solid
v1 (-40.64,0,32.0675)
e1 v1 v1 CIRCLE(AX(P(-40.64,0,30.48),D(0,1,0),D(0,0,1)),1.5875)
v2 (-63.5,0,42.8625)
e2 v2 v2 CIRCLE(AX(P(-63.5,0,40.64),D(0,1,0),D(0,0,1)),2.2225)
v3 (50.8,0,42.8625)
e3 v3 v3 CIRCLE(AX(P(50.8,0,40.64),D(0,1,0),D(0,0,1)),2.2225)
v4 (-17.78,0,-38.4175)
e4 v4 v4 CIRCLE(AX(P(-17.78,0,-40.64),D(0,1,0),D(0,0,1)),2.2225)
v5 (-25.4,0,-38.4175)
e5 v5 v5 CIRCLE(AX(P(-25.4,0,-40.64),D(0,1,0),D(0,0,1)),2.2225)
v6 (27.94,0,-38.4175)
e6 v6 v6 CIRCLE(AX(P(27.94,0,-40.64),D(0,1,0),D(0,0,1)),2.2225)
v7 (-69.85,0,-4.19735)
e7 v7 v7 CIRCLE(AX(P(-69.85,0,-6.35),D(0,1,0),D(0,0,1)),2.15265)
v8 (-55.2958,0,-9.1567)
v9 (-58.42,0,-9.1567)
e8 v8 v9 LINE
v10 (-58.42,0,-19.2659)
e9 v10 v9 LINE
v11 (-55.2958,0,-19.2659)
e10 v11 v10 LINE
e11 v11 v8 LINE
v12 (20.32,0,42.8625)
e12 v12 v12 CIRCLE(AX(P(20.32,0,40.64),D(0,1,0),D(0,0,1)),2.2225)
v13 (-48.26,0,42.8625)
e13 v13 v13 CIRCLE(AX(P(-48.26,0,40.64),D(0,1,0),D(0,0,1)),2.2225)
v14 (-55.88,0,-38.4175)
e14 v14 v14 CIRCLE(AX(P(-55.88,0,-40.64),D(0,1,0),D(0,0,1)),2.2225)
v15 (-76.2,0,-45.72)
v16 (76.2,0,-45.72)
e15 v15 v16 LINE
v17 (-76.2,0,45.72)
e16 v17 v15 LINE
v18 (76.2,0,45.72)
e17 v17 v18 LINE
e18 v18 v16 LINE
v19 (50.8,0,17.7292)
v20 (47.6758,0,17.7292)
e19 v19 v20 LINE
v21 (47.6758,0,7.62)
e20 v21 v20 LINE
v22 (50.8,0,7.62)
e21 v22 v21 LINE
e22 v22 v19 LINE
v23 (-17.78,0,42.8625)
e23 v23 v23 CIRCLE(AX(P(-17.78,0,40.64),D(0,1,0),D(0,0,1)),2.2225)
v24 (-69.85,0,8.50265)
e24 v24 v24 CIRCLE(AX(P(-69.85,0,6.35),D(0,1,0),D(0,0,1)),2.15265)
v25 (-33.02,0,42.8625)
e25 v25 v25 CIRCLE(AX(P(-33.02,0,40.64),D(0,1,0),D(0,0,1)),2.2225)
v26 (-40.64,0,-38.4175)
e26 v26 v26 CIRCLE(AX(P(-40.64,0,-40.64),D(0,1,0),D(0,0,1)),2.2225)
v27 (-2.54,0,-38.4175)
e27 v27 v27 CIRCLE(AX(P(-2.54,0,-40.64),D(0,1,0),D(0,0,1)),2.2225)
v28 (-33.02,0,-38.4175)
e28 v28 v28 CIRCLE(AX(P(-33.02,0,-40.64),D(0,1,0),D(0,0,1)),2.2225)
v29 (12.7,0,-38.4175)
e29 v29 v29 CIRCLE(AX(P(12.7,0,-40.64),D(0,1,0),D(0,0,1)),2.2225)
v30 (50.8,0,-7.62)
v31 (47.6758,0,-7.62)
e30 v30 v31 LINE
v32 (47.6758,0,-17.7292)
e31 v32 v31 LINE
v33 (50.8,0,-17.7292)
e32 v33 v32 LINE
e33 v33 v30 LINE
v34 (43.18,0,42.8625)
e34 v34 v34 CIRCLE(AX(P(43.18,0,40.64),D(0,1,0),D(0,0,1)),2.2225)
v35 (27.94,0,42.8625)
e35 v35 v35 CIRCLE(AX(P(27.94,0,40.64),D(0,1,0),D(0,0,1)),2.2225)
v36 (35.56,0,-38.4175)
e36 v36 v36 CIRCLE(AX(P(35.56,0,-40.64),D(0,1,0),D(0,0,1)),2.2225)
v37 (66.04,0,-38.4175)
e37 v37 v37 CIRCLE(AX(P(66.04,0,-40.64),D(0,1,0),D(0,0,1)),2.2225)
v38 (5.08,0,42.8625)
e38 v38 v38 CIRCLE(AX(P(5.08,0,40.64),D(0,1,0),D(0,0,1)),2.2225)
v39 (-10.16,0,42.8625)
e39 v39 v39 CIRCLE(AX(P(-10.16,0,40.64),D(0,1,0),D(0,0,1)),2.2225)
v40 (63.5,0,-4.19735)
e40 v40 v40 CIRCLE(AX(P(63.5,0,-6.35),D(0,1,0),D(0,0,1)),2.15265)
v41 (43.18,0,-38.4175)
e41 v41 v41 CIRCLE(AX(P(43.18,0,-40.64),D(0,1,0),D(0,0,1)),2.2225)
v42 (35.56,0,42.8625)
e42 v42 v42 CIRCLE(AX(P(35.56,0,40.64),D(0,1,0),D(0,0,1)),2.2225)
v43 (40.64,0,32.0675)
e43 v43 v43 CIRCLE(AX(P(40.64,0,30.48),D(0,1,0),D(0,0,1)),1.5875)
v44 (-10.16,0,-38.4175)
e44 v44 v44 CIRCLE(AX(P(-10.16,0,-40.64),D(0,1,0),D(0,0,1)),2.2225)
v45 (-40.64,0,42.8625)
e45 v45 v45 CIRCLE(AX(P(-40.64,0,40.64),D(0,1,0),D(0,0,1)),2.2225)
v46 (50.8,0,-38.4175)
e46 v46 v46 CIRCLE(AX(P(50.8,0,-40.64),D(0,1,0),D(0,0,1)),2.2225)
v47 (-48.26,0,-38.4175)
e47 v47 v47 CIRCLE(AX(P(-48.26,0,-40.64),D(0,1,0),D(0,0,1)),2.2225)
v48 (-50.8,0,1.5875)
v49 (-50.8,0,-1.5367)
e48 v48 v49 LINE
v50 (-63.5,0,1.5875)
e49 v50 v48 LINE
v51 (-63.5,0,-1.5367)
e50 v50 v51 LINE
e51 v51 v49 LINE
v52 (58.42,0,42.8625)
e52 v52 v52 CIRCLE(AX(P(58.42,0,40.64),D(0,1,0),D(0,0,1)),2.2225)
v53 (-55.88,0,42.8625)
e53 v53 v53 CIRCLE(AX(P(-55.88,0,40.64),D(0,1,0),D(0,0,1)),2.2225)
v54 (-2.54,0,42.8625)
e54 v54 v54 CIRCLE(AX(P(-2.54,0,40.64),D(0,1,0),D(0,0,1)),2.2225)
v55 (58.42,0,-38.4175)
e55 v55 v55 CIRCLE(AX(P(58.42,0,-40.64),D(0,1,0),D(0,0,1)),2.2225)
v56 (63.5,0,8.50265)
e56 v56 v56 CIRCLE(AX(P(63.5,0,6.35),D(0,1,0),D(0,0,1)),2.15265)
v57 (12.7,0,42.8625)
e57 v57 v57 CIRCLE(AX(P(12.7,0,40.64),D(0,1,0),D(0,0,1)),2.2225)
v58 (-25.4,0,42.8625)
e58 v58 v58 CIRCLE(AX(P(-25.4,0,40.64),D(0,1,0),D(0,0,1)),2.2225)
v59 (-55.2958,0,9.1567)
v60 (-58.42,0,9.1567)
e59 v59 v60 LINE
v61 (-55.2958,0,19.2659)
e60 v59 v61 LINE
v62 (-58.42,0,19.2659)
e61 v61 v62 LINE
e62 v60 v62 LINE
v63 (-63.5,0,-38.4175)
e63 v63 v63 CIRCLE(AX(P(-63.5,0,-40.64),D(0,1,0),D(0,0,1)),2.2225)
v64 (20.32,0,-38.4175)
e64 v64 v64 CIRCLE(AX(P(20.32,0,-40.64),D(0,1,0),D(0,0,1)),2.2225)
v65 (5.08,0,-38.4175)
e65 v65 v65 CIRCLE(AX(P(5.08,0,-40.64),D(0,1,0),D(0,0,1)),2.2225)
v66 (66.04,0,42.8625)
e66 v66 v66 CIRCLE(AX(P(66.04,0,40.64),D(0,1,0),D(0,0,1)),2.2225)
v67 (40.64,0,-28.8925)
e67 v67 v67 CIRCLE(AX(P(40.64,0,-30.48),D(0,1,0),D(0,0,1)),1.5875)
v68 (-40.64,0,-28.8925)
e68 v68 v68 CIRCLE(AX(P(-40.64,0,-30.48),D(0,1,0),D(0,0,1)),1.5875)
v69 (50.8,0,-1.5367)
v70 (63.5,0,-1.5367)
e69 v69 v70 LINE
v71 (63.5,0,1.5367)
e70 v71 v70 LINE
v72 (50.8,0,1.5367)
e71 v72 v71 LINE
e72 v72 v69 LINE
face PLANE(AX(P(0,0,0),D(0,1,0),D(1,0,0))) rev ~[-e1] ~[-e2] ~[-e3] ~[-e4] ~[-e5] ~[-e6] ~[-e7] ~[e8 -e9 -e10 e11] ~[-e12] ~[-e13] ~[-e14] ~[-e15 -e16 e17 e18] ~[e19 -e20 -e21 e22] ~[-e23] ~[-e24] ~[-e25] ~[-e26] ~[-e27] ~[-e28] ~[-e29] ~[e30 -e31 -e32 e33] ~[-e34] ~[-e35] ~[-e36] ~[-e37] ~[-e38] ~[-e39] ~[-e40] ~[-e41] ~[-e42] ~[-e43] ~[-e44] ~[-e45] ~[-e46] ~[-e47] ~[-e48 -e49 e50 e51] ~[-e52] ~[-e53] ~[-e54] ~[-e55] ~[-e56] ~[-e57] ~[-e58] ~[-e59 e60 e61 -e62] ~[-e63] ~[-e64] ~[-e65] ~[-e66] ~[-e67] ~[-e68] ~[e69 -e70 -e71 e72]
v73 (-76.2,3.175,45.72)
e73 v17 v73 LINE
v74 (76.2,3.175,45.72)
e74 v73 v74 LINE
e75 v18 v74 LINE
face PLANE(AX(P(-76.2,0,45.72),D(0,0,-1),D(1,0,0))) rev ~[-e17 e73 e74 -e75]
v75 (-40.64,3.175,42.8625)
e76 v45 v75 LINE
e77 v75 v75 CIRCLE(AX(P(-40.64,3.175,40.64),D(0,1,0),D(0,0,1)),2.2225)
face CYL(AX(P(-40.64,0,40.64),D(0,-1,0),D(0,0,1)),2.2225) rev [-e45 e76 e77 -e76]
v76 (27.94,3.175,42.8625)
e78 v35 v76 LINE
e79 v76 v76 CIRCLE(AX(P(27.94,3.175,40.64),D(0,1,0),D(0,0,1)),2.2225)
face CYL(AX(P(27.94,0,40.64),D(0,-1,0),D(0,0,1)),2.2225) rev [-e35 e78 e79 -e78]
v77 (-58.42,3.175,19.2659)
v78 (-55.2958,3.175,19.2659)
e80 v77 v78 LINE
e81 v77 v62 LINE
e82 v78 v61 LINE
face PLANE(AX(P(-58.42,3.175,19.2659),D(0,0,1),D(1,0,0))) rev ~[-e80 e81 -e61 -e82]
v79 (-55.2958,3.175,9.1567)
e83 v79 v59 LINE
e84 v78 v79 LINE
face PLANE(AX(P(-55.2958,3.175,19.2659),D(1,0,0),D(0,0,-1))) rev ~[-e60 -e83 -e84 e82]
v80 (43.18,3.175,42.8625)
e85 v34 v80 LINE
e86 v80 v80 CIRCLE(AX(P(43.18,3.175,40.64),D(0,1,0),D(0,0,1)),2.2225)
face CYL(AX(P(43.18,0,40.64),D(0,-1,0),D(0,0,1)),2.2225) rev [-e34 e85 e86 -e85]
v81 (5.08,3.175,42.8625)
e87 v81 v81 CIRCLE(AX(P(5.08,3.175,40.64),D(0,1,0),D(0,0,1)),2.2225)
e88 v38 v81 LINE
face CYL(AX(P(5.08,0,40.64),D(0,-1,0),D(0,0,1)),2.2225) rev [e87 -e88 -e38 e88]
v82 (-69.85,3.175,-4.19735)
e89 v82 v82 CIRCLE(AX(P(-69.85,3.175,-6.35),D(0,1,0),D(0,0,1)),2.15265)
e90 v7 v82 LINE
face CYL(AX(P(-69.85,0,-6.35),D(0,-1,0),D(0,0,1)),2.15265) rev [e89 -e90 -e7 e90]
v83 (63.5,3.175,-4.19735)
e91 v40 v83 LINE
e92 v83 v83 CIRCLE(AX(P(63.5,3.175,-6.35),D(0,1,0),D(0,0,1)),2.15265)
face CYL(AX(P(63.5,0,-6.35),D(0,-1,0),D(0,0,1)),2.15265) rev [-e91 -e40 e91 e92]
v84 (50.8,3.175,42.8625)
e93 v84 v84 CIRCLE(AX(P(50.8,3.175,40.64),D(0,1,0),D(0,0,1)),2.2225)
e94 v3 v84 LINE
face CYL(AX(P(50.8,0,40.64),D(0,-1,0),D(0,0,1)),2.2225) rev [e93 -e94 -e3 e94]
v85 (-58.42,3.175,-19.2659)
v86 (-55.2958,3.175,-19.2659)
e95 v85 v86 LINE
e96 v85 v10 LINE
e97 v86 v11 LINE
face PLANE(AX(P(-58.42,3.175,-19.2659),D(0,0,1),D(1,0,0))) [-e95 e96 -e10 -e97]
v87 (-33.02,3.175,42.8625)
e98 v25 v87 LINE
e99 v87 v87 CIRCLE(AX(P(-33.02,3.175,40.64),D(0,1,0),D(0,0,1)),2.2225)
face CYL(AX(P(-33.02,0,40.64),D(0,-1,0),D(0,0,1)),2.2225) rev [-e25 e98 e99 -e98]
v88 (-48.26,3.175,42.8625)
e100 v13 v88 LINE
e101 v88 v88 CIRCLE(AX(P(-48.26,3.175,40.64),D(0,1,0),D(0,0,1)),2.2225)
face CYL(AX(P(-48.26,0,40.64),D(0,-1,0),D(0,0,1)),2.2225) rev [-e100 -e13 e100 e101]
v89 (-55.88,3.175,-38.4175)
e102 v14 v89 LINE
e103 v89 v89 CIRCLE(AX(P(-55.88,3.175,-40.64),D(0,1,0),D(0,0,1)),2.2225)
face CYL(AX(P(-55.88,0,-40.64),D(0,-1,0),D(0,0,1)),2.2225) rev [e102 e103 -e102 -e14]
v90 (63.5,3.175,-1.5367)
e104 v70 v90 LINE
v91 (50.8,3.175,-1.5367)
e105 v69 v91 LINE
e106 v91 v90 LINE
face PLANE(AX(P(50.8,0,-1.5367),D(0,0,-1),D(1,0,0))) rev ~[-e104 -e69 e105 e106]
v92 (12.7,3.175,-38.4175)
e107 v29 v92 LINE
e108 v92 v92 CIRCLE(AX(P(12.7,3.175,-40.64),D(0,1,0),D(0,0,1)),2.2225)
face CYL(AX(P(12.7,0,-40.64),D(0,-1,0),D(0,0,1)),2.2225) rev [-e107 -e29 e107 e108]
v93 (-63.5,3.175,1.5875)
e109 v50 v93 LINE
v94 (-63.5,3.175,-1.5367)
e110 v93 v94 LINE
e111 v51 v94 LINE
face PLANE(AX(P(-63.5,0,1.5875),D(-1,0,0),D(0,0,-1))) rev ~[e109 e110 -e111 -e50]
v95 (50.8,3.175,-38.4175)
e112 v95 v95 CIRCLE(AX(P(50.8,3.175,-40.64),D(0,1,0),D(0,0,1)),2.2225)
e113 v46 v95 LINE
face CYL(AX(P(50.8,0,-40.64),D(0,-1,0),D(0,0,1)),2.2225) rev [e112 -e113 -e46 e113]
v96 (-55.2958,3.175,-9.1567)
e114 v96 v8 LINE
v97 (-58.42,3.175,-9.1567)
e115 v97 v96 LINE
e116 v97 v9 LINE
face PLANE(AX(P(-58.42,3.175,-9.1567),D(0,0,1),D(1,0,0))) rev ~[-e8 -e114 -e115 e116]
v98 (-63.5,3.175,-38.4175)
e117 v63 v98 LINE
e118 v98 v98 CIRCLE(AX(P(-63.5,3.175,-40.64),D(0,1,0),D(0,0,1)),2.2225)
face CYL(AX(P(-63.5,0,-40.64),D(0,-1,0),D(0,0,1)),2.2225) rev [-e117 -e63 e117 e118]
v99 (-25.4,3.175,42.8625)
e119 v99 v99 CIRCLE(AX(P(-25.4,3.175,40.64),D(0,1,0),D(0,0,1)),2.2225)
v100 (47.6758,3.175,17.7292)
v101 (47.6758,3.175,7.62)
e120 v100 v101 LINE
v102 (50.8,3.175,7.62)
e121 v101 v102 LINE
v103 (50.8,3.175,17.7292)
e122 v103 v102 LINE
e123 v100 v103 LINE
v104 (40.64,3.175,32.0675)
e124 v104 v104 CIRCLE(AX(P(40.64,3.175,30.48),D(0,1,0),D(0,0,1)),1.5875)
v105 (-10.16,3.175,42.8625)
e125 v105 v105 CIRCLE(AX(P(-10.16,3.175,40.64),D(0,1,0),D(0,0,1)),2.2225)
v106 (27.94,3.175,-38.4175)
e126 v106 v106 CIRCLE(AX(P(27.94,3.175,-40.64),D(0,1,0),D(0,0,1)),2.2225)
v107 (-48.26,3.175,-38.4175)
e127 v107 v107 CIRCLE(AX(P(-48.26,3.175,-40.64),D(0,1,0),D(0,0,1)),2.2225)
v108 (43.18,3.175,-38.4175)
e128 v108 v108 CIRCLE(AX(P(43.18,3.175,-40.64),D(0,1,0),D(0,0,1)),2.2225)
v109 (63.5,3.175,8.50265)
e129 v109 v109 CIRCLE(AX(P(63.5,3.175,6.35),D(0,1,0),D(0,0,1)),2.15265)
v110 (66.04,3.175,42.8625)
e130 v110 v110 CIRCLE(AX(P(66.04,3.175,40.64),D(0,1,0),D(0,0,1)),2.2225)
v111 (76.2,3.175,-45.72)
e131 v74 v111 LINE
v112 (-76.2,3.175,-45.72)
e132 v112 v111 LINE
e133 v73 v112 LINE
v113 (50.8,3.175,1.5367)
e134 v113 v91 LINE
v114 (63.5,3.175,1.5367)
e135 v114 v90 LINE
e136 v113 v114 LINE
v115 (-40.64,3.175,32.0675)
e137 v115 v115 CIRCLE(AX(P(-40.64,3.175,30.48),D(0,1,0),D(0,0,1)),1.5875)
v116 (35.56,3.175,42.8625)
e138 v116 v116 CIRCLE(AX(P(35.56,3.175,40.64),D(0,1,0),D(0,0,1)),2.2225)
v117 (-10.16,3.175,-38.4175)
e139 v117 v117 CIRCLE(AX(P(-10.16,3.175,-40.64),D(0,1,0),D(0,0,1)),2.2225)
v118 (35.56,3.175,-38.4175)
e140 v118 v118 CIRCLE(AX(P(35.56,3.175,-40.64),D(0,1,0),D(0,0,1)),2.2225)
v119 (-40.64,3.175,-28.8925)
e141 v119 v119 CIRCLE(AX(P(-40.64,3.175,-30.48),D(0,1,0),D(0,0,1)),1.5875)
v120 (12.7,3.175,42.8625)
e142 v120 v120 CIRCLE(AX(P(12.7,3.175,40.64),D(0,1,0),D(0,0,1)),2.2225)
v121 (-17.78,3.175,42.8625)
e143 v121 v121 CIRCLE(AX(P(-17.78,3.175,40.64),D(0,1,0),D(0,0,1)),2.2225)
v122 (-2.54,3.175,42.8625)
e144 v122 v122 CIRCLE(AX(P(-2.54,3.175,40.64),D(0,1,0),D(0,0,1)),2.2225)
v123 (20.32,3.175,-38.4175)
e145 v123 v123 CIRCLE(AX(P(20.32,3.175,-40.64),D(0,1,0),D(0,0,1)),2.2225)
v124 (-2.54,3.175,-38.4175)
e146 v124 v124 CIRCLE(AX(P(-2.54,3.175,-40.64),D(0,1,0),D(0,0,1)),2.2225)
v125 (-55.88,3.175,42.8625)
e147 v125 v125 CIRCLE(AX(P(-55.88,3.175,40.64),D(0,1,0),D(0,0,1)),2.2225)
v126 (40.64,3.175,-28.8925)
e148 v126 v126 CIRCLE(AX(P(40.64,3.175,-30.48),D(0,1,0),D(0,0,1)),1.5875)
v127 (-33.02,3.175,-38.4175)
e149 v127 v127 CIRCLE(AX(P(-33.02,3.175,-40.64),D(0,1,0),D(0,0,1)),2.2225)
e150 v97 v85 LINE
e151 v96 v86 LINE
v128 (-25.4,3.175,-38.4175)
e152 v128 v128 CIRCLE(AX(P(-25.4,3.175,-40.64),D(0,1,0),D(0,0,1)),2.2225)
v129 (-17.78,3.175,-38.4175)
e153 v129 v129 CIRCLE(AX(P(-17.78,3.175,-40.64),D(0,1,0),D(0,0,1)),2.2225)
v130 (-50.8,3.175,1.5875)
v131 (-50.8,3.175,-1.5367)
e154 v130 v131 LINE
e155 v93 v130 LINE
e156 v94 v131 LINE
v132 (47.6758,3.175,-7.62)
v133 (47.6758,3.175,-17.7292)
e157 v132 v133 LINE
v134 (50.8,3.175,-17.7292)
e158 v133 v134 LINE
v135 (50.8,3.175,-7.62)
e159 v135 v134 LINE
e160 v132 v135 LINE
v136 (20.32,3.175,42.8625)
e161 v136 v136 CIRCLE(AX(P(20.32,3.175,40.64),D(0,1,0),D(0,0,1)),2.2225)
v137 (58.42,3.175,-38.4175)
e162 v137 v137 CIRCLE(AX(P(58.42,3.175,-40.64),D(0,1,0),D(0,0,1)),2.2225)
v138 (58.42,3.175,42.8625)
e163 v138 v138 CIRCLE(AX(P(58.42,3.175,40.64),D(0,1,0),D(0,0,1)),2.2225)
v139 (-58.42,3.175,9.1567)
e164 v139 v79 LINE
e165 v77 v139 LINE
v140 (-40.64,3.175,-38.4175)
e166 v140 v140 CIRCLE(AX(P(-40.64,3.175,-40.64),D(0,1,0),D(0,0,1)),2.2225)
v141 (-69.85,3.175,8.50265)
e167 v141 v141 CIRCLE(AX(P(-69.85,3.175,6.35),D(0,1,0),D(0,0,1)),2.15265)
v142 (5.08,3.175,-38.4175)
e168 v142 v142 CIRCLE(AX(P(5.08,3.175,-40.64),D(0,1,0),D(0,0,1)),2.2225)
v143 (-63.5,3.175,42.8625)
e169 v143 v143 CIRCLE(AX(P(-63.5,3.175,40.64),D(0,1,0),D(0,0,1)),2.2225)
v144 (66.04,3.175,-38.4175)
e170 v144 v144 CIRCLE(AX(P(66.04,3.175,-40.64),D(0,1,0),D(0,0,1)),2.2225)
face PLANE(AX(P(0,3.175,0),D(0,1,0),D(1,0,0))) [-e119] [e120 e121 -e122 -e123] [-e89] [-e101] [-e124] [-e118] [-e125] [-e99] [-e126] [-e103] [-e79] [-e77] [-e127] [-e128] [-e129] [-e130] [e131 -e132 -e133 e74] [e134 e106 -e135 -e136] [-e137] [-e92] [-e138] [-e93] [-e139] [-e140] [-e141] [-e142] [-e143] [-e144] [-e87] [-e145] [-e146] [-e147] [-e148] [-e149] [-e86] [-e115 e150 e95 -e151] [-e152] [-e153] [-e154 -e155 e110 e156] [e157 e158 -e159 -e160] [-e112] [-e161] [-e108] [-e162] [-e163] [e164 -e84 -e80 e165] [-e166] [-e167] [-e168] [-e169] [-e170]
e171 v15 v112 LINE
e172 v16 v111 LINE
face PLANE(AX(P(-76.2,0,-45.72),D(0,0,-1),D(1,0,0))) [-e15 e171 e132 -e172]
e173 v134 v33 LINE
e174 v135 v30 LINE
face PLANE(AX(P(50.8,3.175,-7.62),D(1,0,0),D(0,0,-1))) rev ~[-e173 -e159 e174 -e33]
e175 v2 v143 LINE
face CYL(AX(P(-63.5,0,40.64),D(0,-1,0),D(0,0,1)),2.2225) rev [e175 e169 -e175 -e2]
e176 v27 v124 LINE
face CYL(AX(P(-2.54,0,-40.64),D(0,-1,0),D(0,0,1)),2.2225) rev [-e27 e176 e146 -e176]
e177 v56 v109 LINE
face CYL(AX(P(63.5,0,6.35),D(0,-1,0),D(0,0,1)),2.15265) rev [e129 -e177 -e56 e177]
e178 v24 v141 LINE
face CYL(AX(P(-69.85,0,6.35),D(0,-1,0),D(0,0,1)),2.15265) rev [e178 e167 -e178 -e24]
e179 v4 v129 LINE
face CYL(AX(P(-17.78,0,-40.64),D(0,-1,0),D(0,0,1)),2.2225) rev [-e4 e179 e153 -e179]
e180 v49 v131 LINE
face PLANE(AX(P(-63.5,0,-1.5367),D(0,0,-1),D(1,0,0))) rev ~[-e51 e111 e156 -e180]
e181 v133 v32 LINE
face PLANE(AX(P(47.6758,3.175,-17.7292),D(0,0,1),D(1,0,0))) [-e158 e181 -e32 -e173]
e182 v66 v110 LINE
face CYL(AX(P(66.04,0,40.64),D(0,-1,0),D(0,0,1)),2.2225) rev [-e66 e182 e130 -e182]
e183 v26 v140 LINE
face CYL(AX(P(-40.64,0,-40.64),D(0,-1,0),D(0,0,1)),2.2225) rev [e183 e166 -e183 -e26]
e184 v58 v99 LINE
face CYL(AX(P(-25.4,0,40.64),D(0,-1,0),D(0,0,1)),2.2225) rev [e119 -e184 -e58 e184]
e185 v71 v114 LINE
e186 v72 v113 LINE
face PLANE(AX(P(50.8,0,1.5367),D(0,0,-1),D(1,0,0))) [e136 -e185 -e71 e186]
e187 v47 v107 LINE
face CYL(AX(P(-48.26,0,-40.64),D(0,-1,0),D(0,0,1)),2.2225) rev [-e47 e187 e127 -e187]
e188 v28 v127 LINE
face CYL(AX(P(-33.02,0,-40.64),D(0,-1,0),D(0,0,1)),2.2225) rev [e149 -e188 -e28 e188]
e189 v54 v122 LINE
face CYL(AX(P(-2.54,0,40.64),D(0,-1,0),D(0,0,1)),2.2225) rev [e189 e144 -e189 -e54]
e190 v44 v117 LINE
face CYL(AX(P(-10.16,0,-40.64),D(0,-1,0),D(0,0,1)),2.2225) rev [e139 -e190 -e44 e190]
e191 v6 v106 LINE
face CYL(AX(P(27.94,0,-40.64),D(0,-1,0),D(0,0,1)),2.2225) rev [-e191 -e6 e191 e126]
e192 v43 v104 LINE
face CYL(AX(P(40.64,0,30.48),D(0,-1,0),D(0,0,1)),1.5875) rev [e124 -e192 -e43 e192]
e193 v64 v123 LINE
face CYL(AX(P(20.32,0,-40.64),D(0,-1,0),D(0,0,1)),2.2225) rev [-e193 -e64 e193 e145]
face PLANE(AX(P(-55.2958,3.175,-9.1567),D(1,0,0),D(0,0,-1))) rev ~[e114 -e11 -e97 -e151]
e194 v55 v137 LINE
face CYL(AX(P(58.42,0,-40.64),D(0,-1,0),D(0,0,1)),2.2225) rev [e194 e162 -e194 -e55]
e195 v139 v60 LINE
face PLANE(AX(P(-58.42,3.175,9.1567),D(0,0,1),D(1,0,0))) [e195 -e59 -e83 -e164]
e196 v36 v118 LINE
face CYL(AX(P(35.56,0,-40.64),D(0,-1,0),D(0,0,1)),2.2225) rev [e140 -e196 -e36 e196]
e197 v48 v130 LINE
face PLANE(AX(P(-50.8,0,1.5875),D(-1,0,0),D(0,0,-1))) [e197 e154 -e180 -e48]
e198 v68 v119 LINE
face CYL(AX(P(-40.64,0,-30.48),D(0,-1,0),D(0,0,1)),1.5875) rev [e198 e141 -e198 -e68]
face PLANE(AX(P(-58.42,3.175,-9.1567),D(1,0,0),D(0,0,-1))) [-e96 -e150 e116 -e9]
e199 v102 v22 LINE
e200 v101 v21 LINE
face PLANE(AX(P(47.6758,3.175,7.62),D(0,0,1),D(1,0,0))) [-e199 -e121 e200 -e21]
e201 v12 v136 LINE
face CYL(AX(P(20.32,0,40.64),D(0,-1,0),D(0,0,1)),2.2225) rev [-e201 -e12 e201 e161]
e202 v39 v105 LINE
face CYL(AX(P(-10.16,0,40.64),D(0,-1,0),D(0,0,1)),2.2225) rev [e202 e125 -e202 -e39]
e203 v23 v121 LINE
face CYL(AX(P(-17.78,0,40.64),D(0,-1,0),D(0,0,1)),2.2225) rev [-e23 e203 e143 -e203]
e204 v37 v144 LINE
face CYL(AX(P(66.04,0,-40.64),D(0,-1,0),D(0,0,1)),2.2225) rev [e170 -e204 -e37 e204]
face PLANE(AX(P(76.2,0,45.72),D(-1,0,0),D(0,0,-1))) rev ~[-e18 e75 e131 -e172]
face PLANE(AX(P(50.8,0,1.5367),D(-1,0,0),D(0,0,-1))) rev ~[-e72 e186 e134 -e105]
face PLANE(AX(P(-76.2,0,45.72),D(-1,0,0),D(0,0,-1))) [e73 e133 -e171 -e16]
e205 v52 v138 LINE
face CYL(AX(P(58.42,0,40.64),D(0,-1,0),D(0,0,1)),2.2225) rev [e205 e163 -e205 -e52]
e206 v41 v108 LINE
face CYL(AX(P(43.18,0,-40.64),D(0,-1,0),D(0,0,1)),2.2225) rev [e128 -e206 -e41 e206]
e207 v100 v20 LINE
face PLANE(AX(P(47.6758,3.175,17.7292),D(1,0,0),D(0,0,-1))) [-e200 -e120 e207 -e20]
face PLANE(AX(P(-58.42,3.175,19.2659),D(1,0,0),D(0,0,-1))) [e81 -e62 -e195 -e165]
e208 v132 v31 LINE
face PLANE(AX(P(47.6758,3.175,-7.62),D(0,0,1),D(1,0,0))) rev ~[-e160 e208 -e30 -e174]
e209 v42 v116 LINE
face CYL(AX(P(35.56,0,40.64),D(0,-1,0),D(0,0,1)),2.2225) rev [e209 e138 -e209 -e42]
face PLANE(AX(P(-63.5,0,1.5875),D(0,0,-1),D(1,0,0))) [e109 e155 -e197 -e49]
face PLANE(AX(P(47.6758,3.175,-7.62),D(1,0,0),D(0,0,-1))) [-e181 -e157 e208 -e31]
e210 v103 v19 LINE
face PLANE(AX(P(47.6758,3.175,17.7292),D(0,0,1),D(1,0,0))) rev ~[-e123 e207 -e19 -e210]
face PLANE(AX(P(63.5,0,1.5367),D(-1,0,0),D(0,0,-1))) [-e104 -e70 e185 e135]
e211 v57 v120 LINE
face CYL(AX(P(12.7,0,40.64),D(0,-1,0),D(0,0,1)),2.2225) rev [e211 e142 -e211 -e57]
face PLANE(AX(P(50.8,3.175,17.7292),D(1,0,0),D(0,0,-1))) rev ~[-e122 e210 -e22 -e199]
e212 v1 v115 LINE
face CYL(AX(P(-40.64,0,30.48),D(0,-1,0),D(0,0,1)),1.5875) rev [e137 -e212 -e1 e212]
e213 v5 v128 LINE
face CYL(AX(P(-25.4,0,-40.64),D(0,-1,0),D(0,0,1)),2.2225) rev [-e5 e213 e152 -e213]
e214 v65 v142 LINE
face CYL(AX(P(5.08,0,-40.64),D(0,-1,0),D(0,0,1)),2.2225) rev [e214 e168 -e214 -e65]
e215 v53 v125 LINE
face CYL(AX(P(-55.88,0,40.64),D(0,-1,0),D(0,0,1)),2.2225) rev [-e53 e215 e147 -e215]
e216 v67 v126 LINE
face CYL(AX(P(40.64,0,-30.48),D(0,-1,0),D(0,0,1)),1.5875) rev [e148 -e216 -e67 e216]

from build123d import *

# Parameters (mm, degrees)
SKETCH1_W           = 152.4
SKETCH1_H           = 91.44
SKETCH1_W_2         = 12.7
SKETCH1_H_2         = 3.1242
SKETCH1_H_3         = 3.0734
SKETCH1_R           = 2.2225
SKETCH1_R_2         = 1.5875
SKETCH1_R_3         = 2.15265
BOSS_EXTRUDE1_DEPTH = 3.175
CUT_EXTRUDE2_REACH  = 90.92
SKETCH2_W           = 3.1242
SKETCH2_H           = 10.1092


with BuildPart() as part:
    # Sketch1 → Boss-Extrude1 (new body)
    with BuildSketch(Plane(origin=(0, 0, 0), x_dir=(1, 0, 0), z_dir=(0, 1, 0))):
        Rectangle(SKETCH1_W, SKETCH1_H)
        with Locations((-57.15, -0.0254)):
            Rectangle(SKETCH1_W_2, SKETCH1_H_2, mode=Mode.SUBTRACT)
        with Locations((57.15, 0)):
            Rectangle(SKETCH1_W_2, SKETCH1_H_3, mode=Mode.SUBTRACT)
        with Locations((-63.5, -40.64)):
            Circle(SKETCH1_R, mode=Mode.SUBTRACT)
        with Locations((-55.88, -40.64)):
            Circle(SKETCH1_R, mode=Mode.SUBTRACT)
        with Locations((-48.26, -40.64)):
            Circle(SKETCH1_R, mode=Mode.SUBTRACT)
        with Locations((-40.64, -40.64)):
            Circle(SKETCH1_R, mode=Mode.SUBTRACT)
        with Locations((-40.64, -30.48)):
            Circle(SKETCH1_R_2, mode=Mode.SUBTRACT)
        with Locations((-33.02, -40.64)):
            Circle(SKETCH1_R, mode=Mode.SUBTRACT)
        with Locations((-25.4, -40.64)):
            Circle(SKETCH1_R, mode=Mode.SUBTRACT)
        with Locations((-17.78, -40.64)):
            Circle(SKETCH1_R, mode=Mode.SUBTRACT)
        with Locations((-10.16, -40.64)):
            Circle(SKETCH1_R, mode=Mode.SUBTRACT)
        with Locations((-2.54, -40.64)):
            Circle(SKETCH1_R, mode=Mode.SUBTRACT)
        with Locations((-69.85, -6.35)):
            Circle(SKETCH1_R_3, mode=Mode.SUBTRACT)
        with Locations((5.08, -40.64)):
            Circle(SKETCH1_R, mode=Mode.SUBTRACT)
        with Locations((12.7, -40.64)):
            Circle(SKETCH1_R, mode=Mode.SUBTRACT)
        with Locations((20.32, -40.64)):
            Circle(SKETCH1_R, mode=Mode.SUBTRACT)
        with Locations((27.94, -40.64)):
            Circle(SKETCH1_R, mode=Mode.SUBTRACT)
        with Locations((35.56, -40.64)):
            Circle(SKETCH1_R, mode=Mode.SUBTRACT)
        with Locations((43.18, -40.64)):
            Circle(SKETCH1_R, mode=Mode.SUBTRACT)
        with Locations((50.8, -40.64)):
            Circle(SKETCH1_R, mode=Mode.SUBTRACT)
        with Locations((58.42, -40.64)):
            Circle(SKETCH1_R, mode=Mode.SUBTRACT)
        with Locations((66.04, -40.64)):
            Circle(SKETCH1_R, mode=Mode.SUBTRACT)
        with Locations((40.64, -30.48)):
            Circle(SKETCH1_R_2, mode=Mode.SUBTRACT)
        with Locations((63.5, -6.35)):
            Circle(SKETCH1_R_3, mode=Mode.SUBTRACT)
        with Locations((66.04, 40.64)):
            Circle(SKETCH1_R, mode=Mode.SUBTRACT)
        with Locations((-69.85, 6.35)):
            Circle(SKETCH1_R_3, mode=Mode.SUBTRACT)
        with Locations((-40.64, 30.48)):
            Circle(SKETCH1_R_2, mode=Mode.SUBTRACT)
        with Locations((-63.5, 40.64)):
            Circle(SKETCH1_R, mode=Mode.SUBTRACT)
        with Locations((-55.88, 40.64)):
            Circle(SKETCH1_R, mode=Mode.SUBTRACT)
        with Locations((-48.26, 40.64)):
            Circle(SKETCH1_R, mode=Mode.SUBTRACT)
        with Locations((-40.64, 40.64)):
            Circle(SKETCH1_R, mode=Mode.SUBTRACT)
        with Locations((-33.02, 40.64)):
            Circle(SKETCH1_R, mode=Mode.SUBTRACT)
        with Locations((-25.4, 40.64)):
            Circle(SKETCH1_R, mode=Mode.SUBTRACT)
        with Locations((-17.78, 40.64)):
            Circle(SKETCH1_R, mode=Mode.SUBTRACT)
        with Locations((-10.16, 40.64)):
            Circle(SKETCH1_R, mode=Mode.SUBTRACT)
        with Locations((-2.54, 40.64)):
            Circle(SKETCH1_R, mode=Mode.SUBTRACT)
        with Locations((63.5, 6.35)):
            Circle(SKETCH1_R_3, mode=Mode.SUBTRACT)
        with Locations((5.08, 40.64)):
            Circle(SKETCH1_R, mode=Mode.SUBTRACT)
        with Locations((12.7, 40.64)):
            Circle(SKETCH1_R, mode=Mode.SUBTRACT)
        with Locations((20.32, 40.64)):
            Circle(SKETCH1_R, mode=Mode.SUBTRACT)
        with Locations((27.94, 40.64)):
            Circle(SKETCH1_R, mode=Mode.SUBTRACT)
        with Locations((35.56, 40.64)):
            Circle(SKETCH1_R, mode=Mode.SUBTRACT)
        with Locations((40.64, 30.48)):
            Circle(SKETCH1_R_2, mode=Mode.SUBTRACT)
        with Locations((43.18, 40.64)):
            Circle(SKETCH1_R, mode=Mode.SUBTRACT)
        with Locations((50.8, 40.64)):
            Circle(SKETCH1_R, mode=Mode.SUBTRACT)
        with Locations((58.42, 40.64)):
            Circle(SKETCH1_R, mode=Mode.SUBTRACT)
    extrude(amount=BOSS_EXTRUDE1_DEPTH)

    # Sketch2 → Cut-Extrude2 (cut, up to next)
    with BuildSketch(Plane(origin=(0, 3.175, 0), x_dir=(1, 0, 0), z_dir=(0, 1, 0)), mode=Mode.PRIVATE) as cut_extrude2_sk1:
        with Locations((-56.8579, 14.2113)):
            Rectangle(SKETCH2_W, SKETCH2_H)
    cut_extrude2_tool1 = extrude(cut_extrude2_sk1.sketch, amount=-CUT_EXTRUDE2_REACH, mode=Mode.PRIVATE) & part.part
    # Sketch2 → Cut-Extrude2 (cut, up to next)
    with BuildSketch(Plane(origin=(0, 3.175, 0), x_dir=(1, 0, 0), z_dir=(0, 1, 0)), mode=Mode.PRIVATE) as cut_extrude2_sk2:
        with Locations((-56.8579, -14.2113)):
            Rectangle(SKETCH2_W, SKETCH2_H)
    cut_extrude2_tool2 = extrude(cut_extrude2_sk2.sketch, amount=-CUT_EXTRUDE2_REACH, mode=Mode.PRIVATE) & part.part
    # Sketch2 → Cut-Extrude2 (cut, up to next)
    with BuildSketch(Plane(origin=(0, 3.175, 0), x_dir=(1, 0, 0), z_dir=(0, 1, 0)), mode=Mode.PRIVATE) as cut_extrude2_sk3:
        with Locations((49.2379, 12.6746)):
            Rectangle(SKETCH2_W, SKETCH2_H)
    cut_extrude2_tool3 = extrude(cut_extrude2_sk3.sketch, amount=-CUT_EXTRUDE2_REACH, mode=Mode.PRIVATE) & part.part
    # Sketch2 → Cut-Extrude2 (cut, up to next)
    with BuildSketch(Plane(origin=(0, 3.175, 0), x_dir=(1, 0, 0), z_dir=(0, 1, 0)), mode=Mode.PRIVATE) as cut_extrude2_sk4:
        with Locations((49.2379, -12.6746)):
            Rectangle(SKETCH2_W, SKETCH2_H)
    cut_extrude2_tool4 = extrude(cut_extrude2_sk4.sketch, amount=-CUT_EXTRUDE2_REACH, mode=Mode.PRIVATE) & part.part
    add(cut_extrude2_tool1.solids().sort_by_distance((-56.8579, 3.175, -14.2113))[0], mode=Mode.SUBTRACT)
    add(cut_extrude2_tool2.solids().sort_by_distance((-56.8579, 3.175, 14.2113))[0], mode=Mode.SUBTRACT)
    add(cut_extrude2_tool3.solids().sort_by_distance((49.2379, 3.175, -12.6746))[0], mode=Mode.SUBTRACT)
    add(cut_extrude2_tool4.solids().sort_by_distance((49.2379, 3.175, 12.6746))[0], mode=Mode.SUBTRACT)


solid = part.part
